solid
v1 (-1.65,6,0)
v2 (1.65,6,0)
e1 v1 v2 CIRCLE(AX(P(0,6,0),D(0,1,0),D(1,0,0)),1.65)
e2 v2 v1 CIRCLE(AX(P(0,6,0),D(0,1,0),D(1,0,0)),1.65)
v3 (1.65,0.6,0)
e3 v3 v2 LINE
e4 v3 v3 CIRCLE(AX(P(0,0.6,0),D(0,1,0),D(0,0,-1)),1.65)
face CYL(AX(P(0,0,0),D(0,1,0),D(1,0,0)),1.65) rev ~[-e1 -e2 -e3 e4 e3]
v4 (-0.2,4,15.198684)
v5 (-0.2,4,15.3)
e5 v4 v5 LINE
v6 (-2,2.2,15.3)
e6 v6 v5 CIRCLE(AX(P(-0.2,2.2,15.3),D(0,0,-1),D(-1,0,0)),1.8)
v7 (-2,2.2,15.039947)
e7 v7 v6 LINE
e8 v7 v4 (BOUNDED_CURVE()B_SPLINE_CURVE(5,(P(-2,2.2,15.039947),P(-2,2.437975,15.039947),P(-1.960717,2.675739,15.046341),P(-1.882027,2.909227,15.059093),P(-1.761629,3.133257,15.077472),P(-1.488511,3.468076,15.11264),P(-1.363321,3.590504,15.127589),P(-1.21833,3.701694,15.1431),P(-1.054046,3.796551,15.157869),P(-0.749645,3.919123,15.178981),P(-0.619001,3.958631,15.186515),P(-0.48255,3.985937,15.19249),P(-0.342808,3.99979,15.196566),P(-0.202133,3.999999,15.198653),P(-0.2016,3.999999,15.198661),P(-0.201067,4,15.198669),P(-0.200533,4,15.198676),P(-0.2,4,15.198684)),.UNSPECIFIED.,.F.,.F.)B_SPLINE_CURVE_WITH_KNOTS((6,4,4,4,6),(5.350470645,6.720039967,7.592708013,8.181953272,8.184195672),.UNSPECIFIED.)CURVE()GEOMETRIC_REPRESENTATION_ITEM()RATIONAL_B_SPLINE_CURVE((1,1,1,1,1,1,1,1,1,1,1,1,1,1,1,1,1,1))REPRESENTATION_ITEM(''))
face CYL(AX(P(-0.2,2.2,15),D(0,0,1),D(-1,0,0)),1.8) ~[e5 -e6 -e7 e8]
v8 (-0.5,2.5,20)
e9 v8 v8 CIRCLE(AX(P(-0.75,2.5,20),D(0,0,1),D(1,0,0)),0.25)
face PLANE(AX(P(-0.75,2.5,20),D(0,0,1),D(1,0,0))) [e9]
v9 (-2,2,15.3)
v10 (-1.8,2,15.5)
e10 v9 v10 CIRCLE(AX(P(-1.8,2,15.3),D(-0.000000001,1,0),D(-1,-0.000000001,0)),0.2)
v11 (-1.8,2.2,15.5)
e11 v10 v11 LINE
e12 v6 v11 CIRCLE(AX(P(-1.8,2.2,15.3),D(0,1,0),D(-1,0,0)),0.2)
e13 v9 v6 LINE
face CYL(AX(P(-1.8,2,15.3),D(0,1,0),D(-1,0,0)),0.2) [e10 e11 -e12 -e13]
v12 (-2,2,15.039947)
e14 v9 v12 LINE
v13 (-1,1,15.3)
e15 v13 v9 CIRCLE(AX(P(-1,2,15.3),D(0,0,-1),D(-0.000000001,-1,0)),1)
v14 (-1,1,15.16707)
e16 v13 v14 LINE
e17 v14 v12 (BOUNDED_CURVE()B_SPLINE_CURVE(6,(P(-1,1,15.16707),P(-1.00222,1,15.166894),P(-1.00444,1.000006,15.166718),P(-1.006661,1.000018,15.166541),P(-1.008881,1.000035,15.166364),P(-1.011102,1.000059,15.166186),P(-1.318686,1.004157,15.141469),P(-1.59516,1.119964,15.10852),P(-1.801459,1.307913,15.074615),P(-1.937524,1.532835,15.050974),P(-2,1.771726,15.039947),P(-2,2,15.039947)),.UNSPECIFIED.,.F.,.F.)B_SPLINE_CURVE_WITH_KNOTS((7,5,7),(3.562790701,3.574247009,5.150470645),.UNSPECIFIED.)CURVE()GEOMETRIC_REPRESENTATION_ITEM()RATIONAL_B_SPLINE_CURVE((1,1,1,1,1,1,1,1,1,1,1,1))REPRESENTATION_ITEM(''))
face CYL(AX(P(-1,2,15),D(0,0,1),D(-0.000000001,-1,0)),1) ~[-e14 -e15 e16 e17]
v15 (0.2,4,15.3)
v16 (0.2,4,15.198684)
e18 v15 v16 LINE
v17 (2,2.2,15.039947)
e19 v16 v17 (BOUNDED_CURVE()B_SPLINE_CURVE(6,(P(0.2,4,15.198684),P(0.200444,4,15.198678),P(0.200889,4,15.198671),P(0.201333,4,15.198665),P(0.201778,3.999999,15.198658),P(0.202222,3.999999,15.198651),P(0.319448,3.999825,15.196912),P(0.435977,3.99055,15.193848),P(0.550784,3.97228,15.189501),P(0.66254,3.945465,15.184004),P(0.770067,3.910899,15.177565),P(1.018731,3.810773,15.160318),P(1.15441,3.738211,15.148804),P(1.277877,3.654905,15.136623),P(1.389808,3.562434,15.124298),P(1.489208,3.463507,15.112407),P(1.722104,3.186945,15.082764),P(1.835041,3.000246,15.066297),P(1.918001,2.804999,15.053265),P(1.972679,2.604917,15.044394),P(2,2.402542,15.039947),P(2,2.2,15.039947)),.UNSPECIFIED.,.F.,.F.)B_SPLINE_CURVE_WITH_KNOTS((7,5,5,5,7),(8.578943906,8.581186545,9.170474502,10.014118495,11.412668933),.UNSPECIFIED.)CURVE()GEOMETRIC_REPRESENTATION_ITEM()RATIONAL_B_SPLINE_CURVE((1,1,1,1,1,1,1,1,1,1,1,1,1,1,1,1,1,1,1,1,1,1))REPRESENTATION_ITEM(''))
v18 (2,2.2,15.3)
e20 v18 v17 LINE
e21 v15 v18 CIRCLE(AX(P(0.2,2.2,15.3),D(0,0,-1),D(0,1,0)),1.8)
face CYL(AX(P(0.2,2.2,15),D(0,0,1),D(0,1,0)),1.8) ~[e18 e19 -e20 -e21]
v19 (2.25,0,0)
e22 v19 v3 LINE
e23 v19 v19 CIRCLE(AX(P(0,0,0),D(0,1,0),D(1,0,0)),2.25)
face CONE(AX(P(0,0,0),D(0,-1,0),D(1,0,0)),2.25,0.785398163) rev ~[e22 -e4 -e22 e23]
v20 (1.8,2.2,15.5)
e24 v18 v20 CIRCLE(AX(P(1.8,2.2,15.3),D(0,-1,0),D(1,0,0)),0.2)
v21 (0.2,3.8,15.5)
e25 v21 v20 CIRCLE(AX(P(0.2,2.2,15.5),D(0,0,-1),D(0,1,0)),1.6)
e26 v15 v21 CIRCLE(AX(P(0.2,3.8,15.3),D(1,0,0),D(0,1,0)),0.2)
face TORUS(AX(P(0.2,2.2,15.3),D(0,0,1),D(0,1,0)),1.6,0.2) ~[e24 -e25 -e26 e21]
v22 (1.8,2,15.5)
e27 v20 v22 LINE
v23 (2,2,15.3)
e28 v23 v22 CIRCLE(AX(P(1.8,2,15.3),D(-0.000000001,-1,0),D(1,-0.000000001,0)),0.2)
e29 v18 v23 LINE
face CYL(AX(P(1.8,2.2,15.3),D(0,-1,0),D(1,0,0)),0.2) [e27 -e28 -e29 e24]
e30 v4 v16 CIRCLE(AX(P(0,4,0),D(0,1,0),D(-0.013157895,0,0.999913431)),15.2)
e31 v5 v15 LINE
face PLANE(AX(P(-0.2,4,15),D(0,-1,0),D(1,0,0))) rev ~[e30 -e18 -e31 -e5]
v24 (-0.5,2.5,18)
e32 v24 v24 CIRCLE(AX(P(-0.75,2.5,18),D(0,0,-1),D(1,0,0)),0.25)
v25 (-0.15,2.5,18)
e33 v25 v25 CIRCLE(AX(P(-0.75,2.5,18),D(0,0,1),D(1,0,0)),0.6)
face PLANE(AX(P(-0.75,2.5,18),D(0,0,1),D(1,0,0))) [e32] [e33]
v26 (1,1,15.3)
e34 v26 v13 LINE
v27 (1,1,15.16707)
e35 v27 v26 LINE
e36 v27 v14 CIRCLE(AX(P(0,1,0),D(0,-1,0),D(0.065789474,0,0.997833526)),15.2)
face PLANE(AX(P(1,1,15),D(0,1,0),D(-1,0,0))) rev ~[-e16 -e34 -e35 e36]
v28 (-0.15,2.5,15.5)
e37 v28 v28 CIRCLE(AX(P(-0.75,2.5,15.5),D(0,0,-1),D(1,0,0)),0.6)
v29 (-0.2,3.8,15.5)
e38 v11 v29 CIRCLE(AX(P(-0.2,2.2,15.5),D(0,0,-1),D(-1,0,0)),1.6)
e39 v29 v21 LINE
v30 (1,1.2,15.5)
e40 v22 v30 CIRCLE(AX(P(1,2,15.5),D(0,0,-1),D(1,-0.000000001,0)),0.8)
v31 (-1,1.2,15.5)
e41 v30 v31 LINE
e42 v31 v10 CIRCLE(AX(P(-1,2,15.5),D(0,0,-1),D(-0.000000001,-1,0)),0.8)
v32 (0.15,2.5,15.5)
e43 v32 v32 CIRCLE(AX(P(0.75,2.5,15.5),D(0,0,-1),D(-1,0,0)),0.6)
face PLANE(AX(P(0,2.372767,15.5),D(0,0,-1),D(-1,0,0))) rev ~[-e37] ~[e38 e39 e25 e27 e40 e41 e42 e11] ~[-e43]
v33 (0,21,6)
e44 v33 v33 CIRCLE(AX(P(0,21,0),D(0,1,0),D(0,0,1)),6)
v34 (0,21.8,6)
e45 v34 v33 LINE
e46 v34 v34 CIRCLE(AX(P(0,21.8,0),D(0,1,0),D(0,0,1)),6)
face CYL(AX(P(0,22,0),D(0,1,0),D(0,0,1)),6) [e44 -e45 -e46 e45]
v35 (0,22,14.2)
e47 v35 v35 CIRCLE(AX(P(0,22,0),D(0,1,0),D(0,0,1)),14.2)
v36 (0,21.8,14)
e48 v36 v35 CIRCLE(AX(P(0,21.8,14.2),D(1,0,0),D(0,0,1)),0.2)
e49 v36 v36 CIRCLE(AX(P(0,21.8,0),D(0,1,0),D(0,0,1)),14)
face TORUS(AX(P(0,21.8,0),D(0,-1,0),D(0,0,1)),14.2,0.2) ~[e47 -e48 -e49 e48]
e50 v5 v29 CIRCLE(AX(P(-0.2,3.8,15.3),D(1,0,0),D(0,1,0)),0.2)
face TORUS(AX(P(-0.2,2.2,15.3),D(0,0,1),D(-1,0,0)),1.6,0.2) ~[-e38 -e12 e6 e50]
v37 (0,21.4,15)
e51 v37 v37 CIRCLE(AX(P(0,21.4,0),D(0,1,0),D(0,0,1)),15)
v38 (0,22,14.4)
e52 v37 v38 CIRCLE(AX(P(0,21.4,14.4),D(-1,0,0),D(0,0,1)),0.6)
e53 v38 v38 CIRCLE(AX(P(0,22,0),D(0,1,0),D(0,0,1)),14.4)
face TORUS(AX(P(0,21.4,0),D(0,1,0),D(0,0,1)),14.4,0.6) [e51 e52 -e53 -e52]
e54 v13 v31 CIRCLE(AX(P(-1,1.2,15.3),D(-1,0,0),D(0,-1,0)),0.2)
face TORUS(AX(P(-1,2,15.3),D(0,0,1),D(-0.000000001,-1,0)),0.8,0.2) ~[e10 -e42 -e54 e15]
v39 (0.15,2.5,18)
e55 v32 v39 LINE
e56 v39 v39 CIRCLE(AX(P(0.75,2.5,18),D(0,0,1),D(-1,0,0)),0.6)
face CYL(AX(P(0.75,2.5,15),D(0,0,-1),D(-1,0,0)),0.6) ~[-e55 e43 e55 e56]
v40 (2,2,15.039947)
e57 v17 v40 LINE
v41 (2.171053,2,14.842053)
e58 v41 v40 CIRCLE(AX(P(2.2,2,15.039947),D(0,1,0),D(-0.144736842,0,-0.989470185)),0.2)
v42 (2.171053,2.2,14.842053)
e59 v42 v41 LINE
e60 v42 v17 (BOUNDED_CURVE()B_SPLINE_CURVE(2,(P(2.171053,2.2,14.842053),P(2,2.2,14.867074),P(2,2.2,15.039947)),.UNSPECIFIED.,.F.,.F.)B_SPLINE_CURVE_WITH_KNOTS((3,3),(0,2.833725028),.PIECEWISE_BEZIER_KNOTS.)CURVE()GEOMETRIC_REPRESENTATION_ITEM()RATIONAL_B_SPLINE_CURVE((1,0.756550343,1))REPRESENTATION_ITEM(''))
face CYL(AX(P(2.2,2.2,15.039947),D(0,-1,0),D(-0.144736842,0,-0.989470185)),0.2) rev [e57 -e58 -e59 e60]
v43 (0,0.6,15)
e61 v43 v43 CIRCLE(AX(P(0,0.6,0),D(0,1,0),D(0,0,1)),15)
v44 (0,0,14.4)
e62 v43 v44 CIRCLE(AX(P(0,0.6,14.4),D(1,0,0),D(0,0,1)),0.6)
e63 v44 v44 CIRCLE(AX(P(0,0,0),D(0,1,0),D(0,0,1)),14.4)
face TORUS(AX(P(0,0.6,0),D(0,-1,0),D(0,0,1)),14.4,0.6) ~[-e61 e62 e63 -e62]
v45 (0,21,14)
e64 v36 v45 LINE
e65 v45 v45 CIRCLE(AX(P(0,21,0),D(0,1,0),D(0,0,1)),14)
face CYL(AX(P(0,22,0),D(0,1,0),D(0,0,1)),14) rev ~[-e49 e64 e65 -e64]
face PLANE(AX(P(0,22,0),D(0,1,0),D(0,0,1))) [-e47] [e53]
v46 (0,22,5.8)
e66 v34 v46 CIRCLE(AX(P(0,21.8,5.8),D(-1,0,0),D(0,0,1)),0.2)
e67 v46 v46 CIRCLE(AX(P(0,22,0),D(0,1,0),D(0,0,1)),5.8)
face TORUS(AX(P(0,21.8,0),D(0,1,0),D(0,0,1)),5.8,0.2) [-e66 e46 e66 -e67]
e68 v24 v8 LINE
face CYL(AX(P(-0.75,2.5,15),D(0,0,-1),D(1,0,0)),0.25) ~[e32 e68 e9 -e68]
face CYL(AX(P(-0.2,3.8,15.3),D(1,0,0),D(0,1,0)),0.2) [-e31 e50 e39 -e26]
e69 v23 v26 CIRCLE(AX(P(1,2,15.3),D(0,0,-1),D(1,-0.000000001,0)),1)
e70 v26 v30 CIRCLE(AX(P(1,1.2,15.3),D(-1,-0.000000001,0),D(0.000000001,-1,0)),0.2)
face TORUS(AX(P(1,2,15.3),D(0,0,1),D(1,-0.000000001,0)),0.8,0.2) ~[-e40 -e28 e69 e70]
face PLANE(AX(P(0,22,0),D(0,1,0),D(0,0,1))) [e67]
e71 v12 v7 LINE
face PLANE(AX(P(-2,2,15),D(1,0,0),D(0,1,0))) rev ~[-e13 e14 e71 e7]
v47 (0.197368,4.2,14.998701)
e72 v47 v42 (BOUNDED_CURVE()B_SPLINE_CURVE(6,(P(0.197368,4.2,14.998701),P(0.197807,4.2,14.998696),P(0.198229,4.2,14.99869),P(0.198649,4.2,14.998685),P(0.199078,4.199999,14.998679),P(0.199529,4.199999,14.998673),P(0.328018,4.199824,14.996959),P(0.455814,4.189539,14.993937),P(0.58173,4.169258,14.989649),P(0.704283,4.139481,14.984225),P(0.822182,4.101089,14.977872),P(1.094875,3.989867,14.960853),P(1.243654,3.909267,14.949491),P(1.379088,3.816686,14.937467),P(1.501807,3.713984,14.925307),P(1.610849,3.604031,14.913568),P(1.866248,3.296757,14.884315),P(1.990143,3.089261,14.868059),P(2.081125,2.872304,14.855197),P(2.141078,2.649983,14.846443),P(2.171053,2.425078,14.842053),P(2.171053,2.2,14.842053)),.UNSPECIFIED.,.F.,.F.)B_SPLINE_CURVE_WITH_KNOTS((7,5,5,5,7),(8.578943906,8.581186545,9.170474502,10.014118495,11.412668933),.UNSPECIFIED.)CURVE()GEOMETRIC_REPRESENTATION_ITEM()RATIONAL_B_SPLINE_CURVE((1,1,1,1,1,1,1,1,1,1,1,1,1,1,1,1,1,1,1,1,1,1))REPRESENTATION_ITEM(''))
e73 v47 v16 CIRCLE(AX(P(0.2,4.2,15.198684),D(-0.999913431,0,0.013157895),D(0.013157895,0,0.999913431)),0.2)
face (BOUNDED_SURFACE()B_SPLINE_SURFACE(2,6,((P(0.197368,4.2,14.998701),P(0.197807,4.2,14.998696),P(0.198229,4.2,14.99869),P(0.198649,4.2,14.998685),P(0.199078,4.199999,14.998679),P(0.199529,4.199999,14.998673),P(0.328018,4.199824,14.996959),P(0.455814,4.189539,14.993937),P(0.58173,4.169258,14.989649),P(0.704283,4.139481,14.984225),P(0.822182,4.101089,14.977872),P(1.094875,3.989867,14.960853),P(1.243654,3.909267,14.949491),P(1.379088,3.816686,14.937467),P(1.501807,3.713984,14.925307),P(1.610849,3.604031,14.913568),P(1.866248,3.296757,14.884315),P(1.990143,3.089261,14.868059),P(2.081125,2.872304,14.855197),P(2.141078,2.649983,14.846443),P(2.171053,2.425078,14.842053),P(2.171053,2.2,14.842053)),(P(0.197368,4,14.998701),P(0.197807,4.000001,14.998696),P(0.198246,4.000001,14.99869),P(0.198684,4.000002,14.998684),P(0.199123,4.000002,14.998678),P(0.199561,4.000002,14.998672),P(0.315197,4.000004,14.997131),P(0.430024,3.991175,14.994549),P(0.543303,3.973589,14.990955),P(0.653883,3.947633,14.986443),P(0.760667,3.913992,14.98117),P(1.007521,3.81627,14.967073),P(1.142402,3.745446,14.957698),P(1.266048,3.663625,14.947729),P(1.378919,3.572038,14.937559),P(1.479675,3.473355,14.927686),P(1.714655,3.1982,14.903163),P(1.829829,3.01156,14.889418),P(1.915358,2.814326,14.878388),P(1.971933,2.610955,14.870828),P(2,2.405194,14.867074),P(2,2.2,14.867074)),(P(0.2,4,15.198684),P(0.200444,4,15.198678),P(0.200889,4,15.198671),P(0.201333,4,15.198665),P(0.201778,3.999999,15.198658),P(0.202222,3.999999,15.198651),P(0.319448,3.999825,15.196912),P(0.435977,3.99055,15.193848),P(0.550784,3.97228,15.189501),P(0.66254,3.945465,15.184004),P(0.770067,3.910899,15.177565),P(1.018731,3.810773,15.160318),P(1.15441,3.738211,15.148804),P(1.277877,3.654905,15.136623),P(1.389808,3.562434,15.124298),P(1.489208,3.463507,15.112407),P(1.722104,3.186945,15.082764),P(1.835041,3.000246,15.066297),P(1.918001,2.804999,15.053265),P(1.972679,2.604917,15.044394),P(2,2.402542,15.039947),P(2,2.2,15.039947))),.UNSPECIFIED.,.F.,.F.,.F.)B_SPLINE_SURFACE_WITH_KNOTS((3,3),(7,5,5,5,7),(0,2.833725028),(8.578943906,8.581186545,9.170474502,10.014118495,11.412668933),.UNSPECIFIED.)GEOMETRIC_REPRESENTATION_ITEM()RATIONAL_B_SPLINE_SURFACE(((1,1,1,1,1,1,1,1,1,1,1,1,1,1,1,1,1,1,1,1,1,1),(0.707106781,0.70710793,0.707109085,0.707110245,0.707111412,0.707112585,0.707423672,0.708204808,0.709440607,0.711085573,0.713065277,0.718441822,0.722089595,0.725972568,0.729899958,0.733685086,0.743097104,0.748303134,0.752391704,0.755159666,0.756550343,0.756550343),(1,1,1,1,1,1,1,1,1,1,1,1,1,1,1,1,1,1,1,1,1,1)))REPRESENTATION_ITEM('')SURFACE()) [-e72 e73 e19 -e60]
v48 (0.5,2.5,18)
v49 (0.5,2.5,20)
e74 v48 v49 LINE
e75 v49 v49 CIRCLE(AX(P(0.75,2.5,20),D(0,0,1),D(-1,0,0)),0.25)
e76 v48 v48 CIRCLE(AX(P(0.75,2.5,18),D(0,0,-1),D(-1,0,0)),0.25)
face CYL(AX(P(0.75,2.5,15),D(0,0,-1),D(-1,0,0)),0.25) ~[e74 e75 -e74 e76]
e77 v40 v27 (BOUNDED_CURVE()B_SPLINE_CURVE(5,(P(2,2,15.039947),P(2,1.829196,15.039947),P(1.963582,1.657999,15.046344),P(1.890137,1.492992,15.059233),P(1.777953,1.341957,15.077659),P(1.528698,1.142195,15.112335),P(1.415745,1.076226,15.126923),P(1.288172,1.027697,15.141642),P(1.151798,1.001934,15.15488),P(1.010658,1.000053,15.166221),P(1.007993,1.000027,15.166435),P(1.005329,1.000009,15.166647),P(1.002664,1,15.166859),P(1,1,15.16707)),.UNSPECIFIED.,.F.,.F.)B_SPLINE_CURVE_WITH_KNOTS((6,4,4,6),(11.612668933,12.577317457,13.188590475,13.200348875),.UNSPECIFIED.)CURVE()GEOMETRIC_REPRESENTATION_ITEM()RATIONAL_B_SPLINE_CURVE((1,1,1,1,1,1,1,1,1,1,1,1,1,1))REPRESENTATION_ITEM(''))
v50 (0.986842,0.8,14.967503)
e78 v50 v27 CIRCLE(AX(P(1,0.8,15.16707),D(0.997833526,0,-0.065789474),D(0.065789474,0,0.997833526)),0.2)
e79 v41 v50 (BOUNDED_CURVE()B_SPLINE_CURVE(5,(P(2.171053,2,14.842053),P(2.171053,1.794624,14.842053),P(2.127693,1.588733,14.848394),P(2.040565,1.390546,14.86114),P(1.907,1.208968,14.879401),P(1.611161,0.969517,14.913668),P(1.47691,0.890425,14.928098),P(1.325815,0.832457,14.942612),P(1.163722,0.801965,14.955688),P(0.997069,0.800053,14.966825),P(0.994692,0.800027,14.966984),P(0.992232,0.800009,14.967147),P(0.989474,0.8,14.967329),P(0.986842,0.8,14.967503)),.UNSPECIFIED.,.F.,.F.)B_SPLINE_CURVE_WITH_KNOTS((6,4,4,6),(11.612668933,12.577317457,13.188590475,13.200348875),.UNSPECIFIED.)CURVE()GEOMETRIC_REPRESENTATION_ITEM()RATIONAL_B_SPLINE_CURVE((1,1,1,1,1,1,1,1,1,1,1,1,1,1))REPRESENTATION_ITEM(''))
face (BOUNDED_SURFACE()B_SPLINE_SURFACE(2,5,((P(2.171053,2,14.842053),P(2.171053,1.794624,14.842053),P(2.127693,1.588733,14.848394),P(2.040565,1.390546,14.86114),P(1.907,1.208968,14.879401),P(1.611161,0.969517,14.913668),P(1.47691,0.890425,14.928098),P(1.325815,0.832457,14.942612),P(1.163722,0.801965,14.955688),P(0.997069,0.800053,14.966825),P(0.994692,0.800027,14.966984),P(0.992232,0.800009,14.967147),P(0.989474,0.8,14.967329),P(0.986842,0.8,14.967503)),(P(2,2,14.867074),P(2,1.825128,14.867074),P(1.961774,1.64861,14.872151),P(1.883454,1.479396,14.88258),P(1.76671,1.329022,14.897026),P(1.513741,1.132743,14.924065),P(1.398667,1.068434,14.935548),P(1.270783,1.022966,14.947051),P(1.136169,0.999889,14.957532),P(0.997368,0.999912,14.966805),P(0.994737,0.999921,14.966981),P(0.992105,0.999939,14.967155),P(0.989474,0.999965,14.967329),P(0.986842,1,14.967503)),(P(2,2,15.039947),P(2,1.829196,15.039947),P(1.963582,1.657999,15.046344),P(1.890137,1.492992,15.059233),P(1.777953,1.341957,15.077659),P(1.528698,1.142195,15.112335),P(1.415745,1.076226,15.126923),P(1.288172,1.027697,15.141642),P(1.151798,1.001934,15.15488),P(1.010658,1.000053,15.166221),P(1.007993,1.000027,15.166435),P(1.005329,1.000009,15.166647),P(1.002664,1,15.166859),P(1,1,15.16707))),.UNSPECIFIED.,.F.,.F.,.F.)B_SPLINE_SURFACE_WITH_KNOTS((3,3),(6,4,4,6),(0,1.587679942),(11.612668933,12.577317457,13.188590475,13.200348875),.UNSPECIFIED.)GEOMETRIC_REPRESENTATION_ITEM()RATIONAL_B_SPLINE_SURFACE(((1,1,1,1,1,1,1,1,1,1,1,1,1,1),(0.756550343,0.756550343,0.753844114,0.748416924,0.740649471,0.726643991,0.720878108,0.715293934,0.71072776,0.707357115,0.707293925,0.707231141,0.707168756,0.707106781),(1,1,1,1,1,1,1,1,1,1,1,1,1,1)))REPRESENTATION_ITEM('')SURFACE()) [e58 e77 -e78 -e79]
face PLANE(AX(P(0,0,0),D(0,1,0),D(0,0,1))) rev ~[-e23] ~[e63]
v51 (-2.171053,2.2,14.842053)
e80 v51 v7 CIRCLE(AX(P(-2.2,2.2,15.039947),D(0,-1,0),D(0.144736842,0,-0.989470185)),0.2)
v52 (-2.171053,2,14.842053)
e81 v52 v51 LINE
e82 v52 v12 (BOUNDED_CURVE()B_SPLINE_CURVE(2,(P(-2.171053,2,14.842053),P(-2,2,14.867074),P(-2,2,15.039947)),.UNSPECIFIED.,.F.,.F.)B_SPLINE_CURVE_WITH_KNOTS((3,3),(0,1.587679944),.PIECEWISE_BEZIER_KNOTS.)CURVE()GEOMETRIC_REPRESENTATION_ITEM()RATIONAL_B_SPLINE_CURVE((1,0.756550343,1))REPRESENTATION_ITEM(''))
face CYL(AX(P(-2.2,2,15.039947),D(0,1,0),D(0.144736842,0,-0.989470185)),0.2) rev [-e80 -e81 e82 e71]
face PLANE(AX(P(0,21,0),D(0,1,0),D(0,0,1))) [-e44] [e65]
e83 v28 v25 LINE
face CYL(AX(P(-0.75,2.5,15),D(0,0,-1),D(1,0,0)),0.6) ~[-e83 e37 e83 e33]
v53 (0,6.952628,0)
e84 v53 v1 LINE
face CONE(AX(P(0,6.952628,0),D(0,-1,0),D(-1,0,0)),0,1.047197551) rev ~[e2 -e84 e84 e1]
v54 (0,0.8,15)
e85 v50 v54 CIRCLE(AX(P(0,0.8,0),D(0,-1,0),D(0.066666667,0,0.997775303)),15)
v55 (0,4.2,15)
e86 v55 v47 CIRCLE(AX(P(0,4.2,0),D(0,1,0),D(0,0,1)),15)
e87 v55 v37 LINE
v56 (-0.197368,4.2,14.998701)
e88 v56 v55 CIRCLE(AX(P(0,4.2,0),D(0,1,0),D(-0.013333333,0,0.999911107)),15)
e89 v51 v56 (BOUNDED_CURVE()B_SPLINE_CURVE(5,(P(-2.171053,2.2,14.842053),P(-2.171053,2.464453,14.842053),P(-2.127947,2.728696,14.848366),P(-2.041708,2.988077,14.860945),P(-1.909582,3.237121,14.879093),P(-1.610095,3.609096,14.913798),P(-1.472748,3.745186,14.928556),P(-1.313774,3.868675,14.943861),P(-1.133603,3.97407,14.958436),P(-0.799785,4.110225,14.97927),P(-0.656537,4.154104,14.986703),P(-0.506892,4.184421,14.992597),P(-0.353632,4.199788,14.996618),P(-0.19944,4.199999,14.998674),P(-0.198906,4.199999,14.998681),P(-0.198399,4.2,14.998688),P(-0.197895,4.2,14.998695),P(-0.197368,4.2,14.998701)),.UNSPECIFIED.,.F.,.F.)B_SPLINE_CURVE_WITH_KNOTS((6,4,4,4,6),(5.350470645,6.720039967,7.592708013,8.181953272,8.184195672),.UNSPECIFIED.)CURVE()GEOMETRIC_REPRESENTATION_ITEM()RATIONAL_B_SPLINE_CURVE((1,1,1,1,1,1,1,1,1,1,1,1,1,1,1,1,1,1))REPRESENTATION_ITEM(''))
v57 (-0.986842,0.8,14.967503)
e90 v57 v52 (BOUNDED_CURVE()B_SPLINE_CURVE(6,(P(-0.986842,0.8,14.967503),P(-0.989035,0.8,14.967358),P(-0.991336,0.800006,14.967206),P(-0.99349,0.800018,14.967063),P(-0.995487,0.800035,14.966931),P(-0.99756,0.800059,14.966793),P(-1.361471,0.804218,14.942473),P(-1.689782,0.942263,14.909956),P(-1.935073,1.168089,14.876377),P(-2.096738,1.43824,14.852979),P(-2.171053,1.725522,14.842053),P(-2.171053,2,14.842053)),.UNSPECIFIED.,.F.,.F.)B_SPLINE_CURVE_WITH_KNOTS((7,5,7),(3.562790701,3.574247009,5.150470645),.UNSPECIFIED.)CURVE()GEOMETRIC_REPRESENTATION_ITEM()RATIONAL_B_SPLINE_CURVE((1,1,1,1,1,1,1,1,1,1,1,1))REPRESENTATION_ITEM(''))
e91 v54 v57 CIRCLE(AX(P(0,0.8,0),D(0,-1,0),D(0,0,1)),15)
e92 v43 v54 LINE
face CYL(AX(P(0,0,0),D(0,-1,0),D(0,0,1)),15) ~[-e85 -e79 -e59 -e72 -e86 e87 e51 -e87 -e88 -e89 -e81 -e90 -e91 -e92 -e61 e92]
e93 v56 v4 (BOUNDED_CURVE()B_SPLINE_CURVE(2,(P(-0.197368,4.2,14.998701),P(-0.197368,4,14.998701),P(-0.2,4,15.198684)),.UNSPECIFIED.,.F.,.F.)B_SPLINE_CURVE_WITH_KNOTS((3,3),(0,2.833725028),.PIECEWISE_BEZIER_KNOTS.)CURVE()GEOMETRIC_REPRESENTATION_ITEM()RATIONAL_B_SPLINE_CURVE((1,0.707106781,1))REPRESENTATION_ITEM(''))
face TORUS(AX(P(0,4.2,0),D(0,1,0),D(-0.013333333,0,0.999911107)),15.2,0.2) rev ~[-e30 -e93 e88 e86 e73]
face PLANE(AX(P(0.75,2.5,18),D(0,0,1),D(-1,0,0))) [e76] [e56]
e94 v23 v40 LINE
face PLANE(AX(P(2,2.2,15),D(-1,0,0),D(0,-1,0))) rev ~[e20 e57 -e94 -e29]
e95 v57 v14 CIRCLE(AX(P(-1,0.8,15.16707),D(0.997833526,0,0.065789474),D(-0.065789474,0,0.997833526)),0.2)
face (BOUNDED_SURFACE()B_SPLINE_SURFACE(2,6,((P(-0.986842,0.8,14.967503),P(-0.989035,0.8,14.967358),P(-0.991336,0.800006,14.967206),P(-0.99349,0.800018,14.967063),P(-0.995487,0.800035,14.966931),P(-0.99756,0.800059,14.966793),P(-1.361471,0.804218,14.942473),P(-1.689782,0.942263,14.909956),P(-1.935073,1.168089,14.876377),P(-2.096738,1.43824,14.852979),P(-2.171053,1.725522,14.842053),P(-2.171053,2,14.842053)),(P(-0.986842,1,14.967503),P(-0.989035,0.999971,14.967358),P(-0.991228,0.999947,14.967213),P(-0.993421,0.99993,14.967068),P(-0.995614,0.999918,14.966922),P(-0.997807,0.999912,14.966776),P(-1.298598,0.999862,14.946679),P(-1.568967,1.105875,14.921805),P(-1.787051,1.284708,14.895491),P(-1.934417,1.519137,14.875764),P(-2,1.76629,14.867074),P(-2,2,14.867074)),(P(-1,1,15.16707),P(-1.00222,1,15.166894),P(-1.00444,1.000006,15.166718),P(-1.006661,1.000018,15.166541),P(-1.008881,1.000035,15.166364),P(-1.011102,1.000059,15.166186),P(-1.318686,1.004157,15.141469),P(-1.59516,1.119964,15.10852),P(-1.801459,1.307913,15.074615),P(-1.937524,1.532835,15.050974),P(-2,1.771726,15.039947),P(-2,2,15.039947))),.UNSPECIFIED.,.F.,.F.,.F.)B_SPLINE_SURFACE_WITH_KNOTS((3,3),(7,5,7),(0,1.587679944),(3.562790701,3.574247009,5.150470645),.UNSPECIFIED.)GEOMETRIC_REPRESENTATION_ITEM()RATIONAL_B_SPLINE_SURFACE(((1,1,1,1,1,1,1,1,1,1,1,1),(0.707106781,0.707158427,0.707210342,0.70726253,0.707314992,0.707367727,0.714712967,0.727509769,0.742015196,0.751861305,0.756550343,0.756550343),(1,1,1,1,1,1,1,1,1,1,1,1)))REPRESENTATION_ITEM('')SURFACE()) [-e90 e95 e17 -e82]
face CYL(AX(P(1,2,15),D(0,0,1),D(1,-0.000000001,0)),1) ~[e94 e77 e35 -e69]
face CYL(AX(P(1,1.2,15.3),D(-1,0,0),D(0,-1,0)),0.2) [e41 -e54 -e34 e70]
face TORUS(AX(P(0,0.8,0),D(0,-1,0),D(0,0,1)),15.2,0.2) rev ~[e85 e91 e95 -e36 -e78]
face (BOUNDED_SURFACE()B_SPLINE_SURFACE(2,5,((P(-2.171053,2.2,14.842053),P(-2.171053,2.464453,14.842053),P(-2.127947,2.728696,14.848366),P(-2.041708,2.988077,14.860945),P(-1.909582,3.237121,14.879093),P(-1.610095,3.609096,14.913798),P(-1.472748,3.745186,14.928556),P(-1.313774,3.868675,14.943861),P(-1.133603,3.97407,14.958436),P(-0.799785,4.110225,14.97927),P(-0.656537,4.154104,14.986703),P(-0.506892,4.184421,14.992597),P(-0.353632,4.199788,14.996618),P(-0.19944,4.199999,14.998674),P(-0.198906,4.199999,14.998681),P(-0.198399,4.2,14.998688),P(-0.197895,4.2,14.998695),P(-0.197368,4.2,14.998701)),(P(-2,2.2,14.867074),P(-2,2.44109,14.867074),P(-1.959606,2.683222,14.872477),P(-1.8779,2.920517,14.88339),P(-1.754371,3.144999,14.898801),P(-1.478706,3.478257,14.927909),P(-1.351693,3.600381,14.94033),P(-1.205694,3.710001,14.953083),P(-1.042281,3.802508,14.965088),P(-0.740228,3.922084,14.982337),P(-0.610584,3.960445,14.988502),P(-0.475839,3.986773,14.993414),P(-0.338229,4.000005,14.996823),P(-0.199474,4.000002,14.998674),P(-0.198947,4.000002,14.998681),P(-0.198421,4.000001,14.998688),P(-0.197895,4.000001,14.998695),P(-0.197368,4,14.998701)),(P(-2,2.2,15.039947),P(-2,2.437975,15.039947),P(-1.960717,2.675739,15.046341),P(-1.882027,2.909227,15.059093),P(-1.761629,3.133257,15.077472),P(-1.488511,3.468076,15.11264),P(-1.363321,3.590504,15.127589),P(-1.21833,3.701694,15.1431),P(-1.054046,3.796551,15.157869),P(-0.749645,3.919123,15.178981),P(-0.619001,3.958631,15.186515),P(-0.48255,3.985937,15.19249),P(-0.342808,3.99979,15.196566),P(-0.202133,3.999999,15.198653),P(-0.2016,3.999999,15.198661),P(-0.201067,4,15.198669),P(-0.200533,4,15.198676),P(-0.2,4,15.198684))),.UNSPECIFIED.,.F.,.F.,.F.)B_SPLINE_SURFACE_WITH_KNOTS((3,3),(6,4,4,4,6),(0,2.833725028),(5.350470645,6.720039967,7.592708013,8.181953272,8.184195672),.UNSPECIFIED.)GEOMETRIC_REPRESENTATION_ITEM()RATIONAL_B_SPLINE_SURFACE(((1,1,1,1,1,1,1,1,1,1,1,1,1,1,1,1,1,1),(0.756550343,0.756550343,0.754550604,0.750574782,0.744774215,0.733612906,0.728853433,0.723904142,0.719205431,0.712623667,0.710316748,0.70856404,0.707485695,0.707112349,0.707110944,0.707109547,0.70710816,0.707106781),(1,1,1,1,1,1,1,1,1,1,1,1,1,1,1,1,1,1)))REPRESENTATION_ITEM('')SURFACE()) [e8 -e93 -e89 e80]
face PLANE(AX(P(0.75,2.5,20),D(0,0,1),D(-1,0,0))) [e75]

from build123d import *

# Parameters (mm, degrees)
SKETCH1_R                            = 15
BOSS_EXTRUDE1_DEPTH                  = 22
SKETCH2_R                            = 14
SKETCH2_R_2                          = 6
CUT_EXTRUDE1_DEPTH                   = 1
M4_TAPPED_HOLE1_D                    = 3.3
M4_TAPPED_HOLE1_DEPTH                = 6
M4_TAPPED_HOLE1_CSINK_D              = 4.5
M4_TAPPED_HOLE1_CSINK_ANGLE          = 90
M4_TAPPED_HOLE1_TIP                  = 0.952627944
BOSS_EXTRUDE2_DEPTH                  = 0.5
BOSS_EXTRUDE2_DIRECTION_2_REACH      = 42.112
BOSS_EXTRUDE2_DIRECTION_2_END_RADIUS = 15
SKETCH9_R                            = 0.6
BOSS_EXTRUDE3_DEPTH                  = 3
SKETCH10_R                           = 0.25
BOSS_EXTRUDE4_DEPTH                  = 5
FILLET1_R                            = 0.6
FILLET2_R                            = 0.2
FILLET3_R                            = 0.2
FILLET4_R                            = 0.2


with BuildPart() as part:
    # Sketch1 → Boss-Extrude1 (new body)
    with BuildSketch(Plane(origin=(0, 0, 0), x_dir=(1, 0, 0), z_dir=(0, 1, 0))):
        with Locations(Location((0, 0, 0), (0, 0, 270))):
            Circle(SKETCH1_R)
    extrude(amount=BOSS_EXTRUDE1_DEPTH)

    # Sketch2 → Cut-Extrude1 (cut)
    with BuildSketch(Plane(origin=(0, 22, 0), x_dir=(1, 0, 0), z_dir=(0, 1, 0))):
        with Locations(Location((0, 0, 0), (0, 0, 270))):
            Circle(SKETCH2_R)
        with Locations(Location((0, 0, 0), (0, 0, 270))):
            Circle(SKETCH2_R_2, mode=Mode.SUBTRACT)
    extrude(amount=-CUT_EXTRUDE1_DEPTH, mode=Mode.SUBTRACT)

    # M4 Tapped Hole1
    with Locations(Plane(origin=(0, 0, 0), x_dir=(-1, 0, 0), z_dir=(0, -1, 0))):
        with Locations((0, 0)):
            CounterSinkHole(M4_TAPPED_HOLE1_D / 2, M4_TAPPED_HOLE1_CSINK_D / 2, depth=M4_TAPPED_HOLE1_DEPTH, counter_sink_angle=M4_TAPPED_HOLE1_CSINK_ANGLE)
            with Locations((0, 0, -(M4_TAPPED_HOLE1_DEPTH + M4_TAPPED_HOLE1_TIP / 2))):  # 120° drill point
                Cone(0, M4_TAPPED_HOLE1_D / 2, M4_TAPPED_HOLE1_TIP, mode=Mode.SUBTRACT)

    # Sketch8 → Boss-Extrude2 (add)
    with BuildSketch(Plane.XY.offset(15)):
        with BuildLine():
            Line((-0.2, 4), (0.2, 4))
            ThreePointArc((0.2, 4), (1.472792206, 3.472792206), (2, 2.2))
            Line((2, 2.2), (2, 2))
            ThreePointArc((2, 2), (1.707106781, 1.292893219), (1, 1))
            Line((1, 1), (-1, 1))
            ThreePointArc((-1, 1), (-1.707106781, 1.292893219), (-2, 2))
            Line((-2, 2), (-2, 2.2))
            ThreePointArc((-2, 2.2), (-1.472792206, 3.472792206), (-0.2, 4))
        make_face()
    extrude(amount=BOSS_EXTRUDE2_DEPTH)

    # Boss-Extrude2 direction 2: up to this cylinder (the profile starts outside it)
    boss_extrude2_direction_2_end = Plane(origin=(0, 2.403845, 0), z_dir=(0, -1, 0)) * Cylinder(BOSS_EXTRUDE2_DIRECTION_2_END_RADIUS, 115.224, mode=Mode.PRIVATE)
    # Sketch8 → Boss-Extrude2 direction 2 (add, up to the surface)
    with BuildSketch(Plane.XY.offset(15), mode=Mode.PRIVATE) as boss_extrude2_direction_2_sk1:
        with BuildLine():
            Line((-0.2, 4), (0.2, 4))
            ThreePointArc((0.2, 4), (1.472792206, 3.472792206), (2, 2.2))
            Line((2, 2.2), (2, 2))
            ThreePointArc((2, 2), (1.707106781, 1.292893219), (1, 1))
            Line((1, 1), (-1, 1))
            ThreePointArc((-1, 1), (-1.707106781, 1.292893219), (-2, 2))
            Line((-2, 2), (-2, 2.2))
            ThreePointArc((-2, 2.2), (-1.472792206, 3.472792206), (-0.2, 4))
        make_face()
    boss_extrude2_direction_2_tool1 = extrude(boss_extrude2_direction_2_sk1.sketch, amount=-BOSS_EXTRUDE2_DIRECTION_2_REACH, mode=Mode.PRIVATE) - boss_extrude2_direction_2_end
    add(boss_extrude2_direction_2_tool1.solids().sort_by_distance((0, 2.403845, 15))[0])
    add(boss_extrude2_direction_2_tool1.solids().sort_by_distance((0, 2.403845, 15))[1])

    # Sketch9 → Boss-Extrude3 (add)
    with BuildSketch(Plane.XY.offset(15)):
        with Locations((-0.75, 2.5)):
            Circle(SKETCH9_R)
        with Locations(Location((0.75, 2.5, 0), (0, 0, 180))):
            Circle(SKETCH9_R)
    extrude(amount=BOSS_EXTRUDE3_DEPTH)

    # Sketch10 → Boss-Extrude4 (add)
    with BuildSketch(Plane.XY.offset(15)):
        with Locations((-0.75, 2.5)):
            Circle(SKETCH10_R)
        with Locations(Location((0.75, 2.5, 0), (0, 0, 180))):
            Circle(SKETCH10_R)
    extrude(amount=BOSS_EXTRUDE4_DEPTH)

    # Fillet1
    fillet1_edges = [part.edges().sort_by_distance(p)[0] for p in [
        (0, 0, -15),
        (0, 22, -15),
    ]]
    fillet(fillet1_edges, radius=FILLET1_R)

    # Fillet2
    fillet2_edges = [part.edges().sort_by_distance(p)[0] for p in [
        (1.706560762, 1.292347605, 14.902605487),
        (2, 2.1, 14.866068747),
        (1.472668664, 3.472915736, 14.927533186),
        (0.100002222, 4, 14.999666648),
        (-1.47266868, 3.472915752, 14.927533181),
        (-2, 2.1, 14.866068747),
        (-1.706560762, 1.292347605, 14.902605487),
        (0.500278319, 1, 14.991655066),
        (1.707106781, 1.292893219, 15.5),
        (2, 2.1, 15.5),
        (1.472792206, 3.472792206, 15.5),
        (0, 4, 15.5),
        (-1.472792206, 3.472792206, 15.5),
        (-2, 2.1, 15.5),
        (-1.707106781, 1.292893219, 15.5),
        (0, 1, 15.5),
    ]]
    fillet(fillet2_edges, radius=FILLET2_R)

    # Fillet3
    fillet3_edges = [part.edges().sort_by_distance(p)[0] for p in [
        (0, 22, -6),
    ]]
    fillet(fillet3_edges, radius=FILLET3_R)

    # Fillet4
    fillet4_edges = [part.edges().sort_by_distance(p)[0] for p in [
        (0, 22, -14),
    ]]
    fillet(fillet4_edges, radius=FILLET4_R)


solid = part.part
